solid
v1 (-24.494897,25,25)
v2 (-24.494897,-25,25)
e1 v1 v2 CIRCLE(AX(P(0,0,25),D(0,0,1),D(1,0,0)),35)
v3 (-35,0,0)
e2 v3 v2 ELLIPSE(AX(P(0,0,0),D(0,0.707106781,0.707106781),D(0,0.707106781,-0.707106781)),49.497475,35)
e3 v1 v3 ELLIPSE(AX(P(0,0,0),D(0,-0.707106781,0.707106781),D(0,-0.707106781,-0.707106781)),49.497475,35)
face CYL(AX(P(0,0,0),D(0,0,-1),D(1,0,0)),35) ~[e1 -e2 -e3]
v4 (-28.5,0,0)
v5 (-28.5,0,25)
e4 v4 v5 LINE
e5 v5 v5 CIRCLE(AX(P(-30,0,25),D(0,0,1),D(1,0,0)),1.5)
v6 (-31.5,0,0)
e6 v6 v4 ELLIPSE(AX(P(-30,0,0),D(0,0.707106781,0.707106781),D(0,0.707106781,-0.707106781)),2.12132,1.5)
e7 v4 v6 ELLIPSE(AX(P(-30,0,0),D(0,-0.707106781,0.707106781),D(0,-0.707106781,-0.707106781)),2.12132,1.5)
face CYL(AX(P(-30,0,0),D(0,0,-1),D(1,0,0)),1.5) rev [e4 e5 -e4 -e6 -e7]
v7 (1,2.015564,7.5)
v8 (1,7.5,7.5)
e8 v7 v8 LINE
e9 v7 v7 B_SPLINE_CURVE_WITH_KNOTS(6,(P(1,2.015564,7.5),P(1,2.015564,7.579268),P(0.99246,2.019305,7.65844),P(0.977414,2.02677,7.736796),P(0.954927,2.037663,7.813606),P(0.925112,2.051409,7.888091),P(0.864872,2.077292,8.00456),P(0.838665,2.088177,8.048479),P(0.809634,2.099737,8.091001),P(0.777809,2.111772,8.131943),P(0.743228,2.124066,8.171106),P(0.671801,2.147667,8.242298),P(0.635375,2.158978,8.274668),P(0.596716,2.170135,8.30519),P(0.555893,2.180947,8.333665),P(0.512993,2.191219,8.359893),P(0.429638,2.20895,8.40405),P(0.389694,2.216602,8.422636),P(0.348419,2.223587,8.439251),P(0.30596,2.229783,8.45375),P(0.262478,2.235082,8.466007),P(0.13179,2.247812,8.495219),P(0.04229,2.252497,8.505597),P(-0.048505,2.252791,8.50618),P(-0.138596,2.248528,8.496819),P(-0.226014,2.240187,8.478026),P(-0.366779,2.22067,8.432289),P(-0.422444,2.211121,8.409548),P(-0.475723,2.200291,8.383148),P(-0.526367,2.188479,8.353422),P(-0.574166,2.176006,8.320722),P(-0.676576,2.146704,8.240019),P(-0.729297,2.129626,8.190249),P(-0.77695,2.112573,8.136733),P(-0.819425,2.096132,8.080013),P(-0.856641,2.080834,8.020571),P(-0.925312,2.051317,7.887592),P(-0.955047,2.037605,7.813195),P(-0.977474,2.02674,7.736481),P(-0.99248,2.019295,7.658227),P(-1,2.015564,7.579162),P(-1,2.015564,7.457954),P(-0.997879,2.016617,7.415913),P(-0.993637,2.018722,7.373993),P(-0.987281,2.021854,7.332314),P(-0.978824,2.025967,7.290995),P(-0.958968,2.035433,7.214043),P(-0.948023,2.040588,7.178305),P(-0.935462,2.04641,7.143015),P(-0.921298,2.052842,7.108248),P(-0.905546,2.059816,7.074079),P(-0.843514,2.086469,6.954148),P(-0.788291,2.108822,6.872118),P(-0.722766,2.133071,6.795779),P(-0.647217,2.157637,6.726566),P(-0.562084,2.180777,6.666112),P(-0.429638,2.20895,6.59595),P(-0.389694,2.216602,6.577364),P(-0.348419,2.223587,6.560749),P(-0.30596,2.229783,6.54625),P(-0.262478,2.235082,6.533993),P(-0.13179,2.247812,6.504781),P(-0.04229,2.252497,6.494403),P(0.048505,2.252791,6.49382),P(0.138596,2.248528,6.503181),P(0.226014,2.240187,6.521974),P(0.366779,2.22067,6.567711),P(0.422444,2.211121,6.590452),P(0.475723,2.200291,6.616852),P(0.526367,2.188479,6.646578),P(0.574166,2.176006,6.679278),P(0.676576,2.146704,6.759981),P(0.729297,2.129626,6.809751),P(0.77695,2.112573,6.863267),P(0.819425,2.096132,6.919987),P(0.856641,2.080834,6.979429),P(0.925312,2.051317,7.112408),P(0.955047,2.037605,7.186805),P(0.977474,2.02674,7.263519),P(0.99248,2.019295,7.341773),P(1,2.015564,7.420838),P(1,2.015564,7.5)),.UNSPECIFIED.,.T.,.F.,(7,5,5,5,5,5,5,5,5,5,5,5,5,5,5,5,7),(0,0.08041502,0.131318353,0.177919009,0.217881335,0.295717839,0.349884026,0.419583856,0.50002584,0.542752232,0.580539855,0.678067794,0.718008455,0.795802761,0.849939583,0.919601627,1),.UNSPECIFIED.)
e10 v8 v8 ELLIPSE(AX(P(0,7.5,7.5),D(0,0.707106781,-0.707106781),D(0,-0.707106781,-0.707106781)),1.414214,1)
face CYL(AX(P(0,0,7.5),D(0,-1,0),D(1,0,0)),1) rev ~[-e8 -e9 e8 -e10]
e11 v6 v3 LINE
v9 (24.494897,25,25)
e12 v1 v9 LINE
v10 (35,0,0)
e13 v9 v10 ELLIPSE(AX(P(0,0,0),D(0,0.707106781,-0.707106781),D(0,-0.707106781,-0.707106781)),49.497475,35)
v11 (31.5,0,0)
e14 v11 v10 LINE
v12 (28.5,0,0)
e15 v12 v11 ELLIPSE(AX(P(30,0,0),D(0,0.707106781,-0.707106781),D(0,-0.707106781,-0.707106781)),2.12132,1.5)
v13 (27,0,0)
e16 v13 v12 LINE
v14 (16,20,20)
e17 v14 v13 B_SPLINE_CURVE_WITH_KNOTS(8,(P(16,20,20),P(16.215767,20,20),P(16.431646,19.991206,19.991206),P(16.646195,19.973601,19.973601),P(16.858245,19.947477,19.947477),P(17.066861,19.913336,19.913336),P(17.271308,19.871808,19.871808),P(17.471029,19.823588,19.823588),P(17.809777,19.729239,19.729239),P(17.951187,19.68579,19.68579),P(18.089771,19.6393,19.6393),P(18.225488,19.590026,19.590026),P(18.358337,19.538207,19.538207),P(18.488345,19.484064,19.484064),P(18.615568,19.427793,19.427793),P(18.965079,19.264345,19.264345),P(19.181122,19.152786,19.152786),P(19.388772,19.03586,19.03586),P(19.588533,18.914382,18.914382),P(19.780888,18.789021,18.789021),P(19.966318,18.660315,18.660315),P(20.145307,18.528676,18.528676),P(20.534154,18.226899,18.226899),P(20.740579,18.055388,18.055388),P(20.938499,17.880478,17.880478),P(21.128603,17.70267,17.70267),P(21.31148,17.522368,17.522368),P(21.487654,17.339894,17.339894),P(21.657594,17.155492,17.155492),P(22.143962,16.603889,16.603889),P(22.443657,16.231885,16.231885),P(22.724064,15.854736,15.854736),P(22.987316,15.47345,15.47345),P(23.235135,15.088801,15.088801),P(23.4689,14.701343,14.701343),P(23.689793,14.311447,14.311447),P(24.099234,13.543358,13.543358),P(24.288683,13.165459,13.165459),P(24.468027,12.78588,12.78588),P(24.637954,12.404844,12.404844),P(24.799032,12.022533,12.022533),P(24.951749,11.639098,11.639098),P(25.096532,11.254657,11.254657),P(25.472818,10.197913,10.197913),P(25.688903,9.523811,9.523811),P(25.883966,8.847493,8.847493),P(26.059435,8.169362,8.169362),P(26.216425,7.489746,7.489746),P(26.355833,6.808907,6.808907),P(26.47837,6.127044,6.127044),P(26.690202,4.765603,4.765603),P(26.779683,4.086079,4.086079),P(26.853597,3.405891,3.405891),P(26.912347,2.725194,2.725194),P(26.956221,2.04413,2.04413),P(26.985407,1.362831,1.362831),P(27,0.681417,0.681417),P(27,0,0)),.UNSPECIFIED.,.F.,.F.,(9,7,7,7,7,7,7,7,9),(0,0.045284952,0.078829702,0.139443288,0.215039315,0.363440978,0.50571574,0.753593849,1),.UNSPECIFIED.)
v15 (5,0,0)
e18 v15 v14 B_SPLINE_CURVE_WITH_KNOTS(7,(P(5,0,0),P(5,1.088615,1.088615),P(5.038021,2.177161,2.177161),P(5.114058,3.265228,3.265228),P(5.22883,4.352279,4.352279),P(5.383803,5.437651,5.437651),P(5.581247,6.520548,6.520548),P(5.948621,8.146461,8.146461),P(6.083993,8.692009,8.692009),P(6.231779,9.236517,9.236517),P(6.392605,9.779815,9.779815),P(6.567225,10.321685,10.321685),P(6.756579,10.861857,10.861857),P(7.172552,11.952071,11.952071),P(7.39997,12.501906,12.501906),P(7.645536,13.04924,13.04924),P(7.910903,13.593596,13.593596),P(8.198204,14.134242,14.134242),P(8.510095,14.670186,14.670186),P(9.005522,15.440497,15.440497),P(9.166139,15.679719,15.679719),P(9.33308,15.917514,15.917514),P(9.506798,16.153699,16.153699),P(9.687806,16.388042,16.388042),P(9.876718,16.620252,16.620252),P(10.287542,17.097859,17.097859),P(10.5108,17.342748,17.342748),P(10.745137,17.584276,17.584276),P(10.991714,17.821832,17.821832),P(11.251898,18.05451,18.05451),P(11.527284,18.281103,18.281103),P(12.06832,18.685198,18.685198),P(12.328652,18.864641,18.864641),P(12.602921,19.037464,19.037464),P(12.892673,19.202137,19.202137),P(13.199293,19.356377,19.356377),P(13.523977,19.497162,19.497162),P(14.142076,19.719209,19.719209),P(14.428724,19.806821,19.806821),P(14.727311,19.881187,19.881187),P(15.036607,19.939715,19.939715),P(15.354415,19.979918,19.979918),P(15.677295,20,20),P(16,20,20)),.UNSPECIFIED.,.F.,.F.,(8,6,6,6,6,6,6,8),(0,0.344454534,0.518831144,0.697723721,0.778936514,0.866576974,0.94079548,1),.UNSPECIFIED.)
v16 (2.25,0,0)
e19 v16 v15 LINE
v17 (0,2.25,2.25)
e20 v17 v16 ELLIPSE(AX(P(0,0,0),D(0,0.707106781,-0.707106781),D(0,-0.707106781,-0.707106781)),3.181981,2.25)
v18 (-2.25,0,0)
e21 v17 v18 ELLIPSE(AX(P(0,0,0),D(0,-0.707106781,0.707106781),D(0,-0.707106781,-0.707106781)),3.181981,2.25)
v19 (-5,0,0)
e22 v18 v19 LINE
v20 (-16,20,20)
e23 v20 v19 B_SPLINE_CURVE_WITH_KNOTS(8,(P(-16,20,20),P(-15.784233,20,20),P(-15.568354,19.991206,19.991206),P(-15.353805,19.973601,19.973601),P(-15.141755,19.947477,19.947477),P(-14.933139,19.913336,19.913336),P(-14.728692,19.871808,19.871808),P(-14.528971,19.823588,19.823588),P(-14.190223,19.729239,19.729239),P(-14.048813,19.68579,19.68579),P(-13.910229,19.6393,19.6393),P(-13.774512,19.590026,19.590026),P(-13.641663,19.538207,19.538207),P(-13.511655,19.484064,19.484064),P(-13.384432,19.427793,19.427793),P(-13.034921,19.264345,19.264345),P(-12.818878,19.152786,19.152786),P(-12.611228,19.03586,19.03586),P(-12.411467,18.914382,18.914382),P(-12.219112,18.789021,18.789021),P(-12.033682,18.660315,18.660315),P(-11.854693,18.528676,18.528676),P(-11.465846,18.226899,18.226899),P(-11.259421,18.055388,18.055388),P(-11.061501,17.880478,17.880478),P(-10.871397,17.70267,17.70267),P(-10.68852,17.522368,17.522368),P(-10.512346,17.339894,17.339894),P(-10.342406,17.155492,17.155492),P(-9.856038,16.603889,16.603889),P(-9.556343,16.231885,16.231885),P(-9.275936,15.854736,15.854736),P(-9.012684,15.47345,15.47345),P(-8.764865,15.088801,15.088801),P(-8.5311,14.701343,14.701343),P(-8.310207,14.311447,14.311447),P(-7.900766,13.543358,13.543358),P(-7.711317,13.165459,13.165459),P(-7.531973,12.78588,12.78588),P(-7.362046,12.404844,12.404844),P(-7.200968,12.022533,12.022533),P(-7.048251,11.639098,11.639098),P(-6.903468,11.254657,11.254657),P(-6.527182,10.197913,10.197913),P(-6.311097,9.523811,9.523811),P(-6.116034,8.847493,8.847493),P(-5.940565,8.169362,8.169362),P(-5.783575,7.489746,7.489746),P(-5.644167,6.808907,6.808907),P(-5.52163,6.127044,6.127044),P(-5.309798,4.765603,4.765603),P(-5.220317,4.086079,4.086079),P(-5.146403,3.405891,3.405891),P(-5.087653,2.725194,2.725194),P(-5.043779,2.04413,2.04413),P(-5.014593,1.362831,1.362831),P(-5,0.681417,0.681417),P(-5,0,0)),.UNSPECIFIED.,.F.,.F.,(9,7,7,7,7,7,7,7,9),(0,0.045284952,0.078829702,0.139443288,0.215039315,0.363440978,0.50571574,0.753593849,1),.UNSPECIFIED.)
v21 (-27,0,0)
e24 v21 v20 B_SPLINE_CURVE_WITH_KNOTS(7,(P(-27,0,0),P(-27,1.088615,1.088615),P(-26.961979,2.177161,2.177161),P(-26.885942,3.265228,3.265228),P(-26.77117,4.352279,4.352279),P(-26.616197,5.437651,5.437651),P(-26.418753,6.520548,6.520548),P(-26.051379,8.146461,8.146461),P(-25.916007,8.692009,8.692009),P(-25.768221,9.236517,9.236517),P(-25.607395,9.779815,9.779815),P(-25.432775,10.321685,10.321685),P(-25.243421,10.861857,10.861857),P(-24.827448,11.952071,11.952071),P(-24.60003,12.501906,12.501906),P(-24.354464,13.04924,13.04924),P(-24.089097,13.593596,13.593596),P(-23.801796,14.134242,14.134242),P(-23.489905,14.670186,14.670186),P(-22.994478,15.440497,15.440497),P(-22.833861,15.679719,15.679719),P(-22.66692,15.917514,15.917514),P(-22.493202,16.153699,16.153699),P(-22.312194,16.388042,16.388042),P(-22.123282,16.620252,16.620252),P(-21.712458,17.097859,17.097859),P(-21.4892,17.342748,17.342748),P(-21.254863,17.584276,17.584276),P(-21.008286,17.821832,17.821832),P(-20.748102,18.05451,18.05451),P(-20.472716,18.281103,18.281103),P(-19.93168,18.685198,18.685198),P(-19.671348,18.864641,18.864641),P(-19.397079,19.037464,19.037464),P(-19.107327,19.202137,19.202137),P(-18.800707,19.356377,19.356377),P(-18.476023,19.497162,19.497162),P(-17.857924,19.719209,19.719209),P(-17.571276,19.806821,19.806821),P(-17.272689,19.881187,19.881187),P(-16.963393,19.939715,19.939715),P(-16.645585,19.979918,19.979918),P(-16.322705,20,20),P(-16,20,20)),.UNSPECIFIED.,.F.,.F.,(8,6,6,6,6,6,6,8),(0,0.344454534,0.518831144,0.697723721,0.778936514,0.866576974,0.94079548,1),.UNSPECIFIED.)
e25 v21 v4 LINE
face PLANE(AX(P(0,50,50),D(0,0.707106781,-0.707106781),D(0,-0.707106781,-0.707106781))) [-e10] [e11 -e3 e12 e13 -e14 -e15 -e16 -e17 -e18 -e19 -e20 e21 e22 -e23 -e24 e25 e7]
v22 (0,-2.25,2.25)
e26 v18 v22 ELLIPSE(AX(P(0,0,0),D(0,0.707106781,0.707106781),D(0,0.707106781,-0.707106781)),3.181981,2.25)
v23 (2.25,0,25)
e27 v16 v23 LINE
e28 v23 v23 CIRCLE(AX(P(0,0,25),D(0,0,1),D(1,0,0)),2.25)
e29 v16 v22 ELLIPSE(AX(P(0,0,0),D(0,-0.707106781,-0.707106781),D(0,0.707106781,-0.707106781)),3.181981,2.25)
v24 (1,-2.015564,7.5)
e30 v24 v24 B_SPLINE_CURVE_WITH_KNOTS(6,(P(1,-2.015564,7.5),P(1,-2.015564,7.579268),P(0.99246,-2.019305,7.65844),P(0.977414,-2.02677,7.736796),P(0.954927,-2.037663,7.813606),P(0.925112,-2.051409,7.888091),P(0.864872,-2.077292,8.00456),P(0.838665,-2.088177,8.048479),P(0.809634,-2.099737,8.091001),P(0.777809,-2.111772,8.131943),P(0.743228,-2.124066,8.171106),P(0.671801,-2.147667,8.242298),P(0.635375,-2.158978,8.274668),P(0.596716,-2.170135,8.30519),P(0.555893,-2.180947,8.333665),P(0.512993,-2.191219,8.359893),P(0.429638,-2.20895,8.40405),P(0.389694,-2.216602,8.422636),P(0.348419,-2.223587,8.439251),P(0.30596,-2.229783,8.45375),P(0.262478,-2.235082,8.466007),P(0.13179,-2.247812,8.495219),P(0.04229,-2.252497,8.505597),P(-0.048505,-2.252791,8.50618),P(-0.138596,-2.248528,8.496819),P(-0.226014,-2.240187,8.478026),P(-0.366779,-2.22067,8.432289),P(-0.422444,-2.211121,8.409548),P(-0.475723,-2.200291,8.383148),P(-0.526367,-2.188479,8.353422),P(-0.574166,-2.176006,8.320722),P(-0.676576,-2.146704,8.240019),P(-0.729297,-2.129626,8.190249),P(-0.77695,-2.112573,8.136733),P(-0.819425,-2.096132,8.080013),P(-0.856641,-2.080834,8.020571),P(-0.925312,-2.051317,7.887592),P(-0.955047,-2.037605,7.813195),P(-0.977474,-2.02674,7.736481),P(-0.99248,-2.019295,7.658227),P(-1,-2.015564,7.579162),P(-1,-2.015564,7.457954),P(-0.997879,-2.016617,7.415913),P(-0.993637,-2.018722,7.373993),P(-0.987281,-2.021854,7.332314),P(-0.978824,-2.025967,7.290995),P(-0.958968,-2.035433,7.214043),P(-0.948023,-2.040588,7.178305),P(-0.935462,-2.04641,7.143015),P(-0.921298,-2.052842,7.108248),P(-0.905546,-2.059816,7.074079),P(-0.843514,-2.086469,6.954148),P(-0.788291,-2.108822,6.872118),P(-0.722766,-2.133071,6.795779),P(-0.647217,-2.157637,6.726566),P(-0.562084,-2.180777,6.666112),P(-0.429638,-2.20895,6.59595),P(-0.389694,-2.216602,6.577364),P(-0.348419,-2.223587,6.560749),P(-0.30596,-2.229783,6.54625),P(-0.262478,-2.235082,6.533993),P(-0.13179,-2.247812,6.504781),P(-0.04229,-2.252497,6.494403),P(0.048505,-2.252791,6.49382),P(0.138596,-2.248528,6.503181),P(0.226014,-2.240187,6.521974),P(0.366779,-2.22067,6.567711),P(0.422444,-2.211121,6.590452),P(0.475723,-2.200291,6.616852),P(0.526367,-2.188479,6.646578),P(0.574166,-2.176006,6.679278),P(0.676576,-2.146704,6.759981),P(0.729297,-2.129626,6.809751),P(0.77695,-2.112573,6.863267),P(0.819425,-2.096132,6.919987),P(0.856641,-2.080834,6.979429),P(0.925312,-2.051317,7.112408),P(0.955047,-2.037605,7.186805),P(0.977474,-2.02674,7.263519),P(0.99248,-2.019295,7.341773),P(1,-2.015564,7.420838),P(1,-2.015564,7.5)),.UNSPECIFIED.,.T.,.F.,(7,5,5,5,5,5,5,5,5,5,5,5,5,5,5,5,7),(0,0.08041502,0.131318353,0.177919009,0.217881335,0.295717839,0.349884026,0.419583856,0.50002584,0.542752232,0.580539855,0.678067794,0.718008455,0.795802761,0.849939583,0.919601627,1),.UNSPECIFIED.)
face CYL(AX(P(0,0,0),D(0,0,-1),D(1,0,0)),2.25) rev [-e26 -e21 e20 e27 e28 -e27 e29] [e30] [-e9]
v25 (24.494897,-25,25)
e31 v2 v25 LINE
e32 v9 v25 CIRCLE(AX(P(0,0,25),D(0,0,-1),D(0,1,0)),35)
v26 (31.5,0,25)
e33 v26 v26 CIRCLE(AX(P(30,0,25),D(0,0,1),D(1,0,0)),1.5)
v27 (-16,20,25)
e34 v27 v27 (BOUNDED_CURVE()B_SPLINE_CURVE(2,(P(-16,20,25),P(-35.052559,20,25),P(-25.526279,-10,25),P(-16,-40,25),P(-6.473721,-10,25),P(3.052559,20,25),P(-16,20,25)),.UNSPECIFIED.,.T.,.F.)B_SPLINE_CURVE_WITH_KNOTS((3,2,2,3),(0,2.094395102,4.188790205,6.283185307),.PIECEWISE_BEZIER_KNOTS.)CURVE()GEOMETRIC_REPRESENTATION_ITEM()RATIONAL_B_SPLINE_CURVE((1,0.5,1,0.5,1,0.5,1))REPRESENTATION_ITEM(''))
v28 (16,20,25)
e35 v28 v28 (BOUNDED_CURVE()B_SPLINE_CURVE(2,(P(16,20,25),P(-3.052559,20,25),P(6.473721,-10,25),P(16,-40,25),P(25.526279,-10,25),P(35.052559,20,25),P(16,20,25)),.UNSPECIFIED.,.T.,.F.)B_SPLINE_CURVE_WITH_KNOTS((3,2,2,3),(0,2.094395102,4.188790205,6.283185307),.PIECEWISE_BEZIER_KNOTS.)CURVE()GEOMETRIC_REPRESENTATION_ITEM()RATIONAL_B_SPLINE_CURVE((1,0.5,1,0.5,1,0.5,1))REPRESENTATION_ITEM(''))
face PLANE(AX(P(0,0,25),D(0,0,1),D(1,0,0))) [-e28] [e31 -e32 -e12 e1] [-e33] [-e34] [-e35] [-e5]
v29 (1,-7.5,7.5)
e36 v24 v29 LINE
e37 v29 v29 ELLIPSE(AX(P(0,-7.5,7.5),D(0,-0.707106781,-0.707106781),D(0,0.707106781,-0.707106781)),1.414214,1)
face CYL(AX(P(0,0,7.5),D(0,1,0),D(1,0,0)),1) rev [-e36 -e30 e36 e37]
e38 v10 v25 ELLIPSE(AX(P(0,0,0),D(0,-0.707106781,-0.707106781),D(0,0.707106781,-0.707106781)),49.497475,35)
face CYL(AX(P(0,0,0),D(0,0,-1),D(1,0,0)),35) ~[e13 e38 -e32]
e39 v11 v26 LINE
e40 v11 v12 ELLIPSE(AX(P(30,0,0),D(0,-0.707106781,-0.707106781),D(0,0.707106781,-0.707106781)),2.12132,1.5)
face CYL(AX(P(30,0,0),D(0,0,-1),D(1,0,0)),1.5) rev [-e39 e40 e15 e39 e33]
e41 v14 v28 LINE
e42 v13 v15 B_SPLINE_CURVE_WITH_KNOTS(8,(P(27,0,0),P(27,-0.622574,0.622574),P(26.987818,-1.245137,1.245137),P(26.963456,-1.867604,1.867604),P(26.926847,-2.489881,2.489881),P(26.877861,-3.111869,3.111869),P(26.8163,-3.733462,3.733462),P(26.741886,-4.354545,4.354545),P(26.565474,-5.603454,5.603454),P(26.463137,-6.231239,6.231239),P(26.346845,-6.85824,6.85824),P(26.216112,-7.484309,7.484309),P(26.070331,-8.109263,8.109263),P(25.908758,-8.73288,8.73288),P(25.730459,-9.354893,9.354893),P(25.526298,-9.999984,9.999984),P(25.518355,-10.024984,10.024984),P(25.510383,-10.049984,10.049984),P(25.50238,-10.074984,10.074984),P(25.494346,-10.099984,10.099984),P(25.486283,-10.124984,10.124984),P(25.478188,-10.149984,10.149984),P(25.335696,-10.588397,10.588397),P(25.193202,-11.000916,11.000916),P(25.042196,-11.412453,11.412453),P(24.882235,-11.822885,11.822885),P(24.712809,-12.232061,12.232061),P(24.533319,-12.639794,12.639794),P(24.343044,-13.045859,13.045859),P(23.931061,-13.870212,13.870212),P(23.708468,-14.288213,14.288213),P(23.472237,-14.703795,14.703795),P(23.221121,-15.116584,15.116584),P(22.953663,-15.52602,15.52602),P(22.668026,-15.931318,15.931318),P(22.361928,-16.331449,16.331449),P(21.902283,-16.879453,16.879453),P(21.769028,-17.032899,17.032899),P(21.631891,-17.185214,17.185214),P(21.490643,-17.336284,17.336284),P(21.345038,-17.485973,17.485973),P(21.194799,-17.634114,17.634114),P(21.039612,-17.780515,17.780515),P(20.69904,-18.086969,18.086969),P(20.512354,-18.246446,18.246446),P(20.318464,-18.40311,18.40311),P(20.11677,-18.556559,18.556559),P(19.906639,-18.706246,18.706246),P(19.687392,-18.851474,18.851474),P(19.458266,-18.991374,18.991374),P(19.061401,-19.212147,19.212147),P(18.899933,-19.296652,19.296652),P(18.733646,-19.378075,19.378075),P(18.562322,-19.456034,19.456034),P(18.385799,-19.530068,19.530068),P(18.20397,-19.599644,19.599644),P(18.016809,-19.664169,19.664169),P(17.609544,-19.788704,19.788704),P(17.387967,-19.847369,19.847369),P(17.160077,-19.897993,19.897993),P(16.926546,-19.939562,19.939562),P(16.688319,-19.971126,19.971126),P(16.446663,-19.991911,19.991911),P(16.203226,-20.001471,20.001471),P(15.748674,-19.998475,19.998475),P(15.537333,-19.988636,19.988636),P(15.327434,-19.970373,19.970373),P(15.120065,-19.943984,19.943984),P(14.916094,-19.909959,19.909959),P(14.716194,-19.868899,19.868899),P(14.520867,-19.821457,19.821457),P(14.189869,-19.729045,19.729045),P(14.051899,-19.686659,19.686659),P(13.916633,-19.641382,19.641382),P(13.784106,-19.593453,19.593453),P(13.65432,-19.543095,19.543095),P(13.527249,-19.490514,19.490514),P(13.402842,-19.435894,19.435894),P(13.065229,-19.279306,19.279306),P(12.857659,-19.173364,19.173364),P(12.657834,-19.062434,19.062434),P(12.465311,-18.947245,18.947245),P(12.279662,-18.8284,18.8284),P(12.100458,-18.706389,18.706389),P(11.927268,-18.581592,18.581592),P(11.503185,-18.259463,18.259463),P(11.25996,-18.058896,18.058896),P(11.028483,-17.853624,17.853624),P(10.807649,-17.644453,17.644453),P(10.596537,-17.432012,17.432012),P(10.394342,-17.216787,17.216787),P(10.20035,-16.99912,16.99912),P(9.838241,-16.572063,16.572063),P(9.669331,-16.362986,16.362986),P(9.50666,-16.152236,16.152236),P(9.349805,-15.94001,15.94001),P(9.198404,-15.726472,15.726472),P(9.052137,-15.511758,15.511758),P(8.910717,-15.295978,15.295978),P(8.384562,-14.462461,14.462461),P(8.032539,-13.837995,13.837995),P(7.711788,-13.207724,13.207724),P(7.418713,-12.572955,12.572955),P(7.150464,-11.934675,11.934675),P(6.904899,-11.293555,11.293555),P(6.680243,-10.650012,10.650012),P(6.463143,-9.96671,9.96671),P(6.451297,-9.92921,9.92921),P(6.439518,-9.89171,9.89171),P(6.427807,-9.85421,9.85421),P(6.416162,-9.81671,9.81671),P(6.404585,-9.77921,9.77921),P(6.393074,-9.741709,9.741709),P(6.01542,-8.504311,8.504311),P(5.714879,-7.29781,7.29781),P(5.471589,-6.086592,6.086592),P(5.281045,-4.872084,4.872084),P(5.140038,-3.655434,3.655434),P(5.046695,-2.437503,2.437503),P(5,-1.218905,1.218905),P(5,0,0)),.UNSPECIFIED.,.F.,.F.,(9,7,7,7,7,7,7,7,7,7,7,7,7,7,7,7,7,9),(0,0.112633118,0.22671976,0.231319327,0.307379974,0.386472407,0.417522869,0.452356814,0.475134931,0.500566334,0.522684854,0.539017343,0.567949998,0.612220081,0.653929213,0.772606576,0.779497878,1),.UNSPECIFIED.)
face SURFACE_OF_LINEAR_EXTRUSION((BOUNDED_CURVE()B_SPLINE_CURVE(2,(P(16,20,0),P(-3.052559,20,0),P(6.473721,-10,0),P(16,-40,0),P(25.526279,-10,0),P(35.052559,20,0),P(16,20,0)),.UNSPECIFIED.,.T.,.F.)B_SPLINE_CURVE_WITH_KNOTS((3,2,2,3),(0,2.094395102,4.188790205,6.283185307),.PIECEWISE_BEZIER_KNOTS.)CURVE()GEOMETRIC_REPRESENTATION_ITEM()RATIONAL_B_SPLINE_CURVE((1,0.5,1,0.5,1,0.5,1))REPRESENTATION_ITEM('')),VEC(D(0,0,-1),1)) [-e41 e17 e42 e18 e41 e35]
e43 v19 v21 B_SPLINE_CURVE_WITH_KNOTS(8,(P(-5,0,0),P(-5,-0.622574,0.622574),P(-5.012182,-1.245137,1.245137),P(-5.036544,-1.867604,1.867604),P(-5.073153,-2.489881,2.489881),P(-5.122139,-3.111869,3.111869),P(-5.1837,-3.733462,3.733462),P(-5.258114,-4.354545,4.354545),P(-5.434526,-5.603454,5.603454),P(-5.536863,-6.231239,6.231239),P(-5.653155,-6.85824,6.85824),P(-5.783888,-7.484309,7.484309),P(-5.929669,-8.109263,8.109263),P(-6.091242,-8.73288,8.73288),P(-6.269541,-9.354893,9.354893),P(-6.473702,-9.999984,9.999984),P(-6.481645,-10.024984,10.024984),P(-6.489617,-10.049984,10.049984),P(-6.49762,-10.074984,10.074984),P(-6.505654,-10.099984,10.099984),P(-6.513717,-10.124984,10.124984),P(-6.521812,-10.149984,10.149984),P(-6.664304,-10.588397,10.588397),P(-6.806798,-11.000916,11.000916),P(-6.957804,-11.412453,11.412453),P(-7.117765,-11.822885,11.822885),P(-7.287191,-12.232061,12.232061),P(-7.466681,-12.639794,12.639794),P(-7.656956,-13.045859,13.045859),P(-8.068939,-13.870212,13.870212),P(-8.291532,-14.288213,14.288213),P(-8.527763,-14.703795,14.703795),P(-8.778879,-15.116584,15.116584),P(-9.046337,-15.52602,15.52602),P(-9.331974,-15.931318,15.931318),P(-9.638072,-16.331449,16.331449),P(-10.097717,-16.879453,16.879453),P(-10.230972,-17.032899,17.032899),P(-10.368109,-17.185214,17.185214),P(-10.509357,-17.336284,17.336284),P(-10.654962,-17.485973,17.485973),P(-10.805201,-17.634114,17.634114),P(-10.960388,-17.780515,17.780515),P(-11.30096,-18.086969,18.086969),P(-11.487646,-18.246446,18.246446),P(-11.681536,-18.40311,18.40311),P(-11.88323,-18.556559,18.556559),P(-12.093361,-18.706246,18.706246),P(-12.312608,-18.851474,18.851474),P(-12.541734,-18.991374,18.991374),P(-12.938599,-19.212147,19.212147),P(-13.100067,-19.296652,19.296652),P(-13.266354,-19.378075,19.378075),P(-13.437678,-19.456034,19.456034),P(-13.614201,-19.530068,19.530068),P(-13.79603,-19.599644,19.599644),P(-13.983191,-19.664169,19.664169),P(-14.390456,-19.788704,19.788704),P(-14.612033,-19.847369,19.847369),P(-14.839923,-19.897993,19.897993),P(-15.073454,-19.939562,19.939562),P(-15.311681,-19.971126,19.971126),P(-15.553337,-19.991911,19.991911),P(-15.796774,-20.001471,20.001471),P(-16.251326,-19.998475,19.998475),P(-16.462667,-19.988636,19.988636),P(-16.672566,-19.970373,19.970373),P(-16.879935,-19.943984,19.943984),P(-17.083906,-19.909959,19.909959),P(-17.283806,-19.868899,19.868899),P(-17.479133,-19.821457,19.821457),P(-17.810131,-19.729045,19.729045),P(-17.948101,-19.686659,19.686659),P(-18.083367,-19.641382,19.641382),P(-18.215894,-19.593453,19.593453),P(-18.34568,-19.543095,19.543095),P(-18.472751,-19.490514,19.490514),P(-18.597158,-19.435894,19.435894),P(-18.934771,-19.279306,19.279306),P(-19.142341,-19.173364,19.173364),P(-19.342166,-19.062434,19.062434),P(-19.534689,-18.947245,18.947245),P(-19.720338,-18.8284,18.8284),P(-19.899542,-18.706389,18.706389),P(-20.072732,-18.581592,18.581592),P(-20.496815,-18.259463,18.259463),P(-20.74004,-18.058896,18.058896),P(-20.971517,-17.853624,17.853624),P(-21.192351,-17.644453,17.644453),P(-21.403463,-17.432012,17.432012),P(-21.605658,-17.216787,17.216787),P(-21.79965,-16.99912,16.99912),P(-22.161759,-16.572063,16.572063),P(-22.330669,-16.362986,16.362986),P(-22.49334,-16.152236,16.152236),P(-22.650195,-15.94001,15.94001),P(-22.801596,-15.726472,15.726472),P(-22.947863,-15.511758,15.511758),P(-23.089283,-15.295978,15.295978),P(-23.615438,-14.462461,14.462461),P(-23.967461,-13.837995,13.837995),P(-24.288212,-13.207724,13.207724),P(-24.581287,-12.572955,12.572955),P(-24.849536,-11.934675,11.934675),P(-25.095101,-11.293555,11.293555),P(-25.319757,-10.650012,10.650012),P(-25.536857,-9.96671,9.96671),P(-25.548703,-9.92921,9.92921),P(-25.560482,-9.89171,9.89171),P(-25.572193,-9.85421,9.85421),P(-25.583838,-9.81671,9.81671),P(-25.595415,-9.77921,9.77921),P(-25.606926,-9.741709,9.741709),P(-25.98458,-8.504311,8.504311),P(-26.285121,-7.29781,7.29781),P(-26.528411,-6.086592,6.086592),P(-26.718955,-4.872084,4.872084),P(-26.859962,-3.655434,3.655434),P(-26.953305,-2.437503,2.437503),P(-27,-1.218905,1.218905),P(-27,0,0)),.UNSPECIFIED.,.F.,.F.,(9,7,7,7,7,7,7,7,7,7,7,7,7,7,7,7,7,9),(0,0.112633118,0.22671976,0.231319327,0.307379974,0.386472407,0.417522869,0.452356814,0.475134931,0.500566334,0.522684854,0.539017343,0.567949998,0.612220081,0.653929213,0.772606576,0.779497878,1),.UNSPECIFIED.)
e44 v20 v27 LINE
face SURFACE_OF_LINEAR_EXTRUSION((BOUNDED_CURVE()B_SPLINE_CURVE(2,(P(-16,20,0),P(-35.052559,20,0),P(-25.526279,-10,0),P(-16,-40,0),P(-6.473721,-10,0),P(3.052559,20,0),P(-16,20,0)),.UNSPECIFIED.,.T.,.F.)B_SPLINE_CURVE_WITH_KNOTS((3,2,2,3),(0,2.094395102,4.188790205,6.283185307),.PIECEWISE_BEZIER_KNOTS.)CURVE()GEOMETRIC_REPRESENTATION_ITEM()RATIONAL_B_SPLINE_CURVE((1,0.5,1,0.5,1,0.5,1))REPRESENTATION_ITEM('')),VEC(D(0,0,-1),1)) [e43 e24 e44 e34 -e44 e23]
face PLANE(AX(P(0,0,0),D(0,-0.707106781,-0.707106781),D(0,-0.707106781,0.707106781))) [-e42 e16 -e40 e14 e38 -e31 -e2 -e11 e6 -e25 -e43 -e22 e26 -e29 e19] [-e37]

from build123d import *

# Parameters (mm, degrees)
F0_R          = 35
F0_R_2        = 1.5
F0_R_3        = 2.25
F1_DEPTH      = 25
F3_DEPTH      = 35.0010001
F3_DEPTH_BACK = 35.0010001
F4_R          = 1
F5_DEPTH      = 25.0010001
F5_DEPTH_BACK = 25.0010001


with BuildPart() as f1:
    # F0 (on Top) → F1 (new body)
    with BuildSketch(Plane.XY):
        Circle(F0_R)
        with Locations((-30, 0)):
            Circle(F0_R_2, mode=Mode.SUBTRACT)
        with BuildLine():
            add(Edge.make_bspline(
                [(-16, 20), (-35.0525588833, 20), (-25.5262794416, -10), (-16, -40), (-6.4737205584, -10), (3.0525588833, 20), (-16, 20)],
                knots=[0, 0, 0, 2.0943951024, 2.0943951024, 4.1887902048, 4.1887902048, 6.2831853072, 6.2831853072, 6.2831853072], degree=2, weights=[1, 0.5, 1, 0.5, 1, 0.5, 1]))
        make_face(mode=Mode.SUBTRACT)
        Circle(F0_R_3, mode=Mode.SUBTRACT)
        with BuildLine():
            add(Edge.make_bspline(
                [(16, 20), (-3.0525588833, 20), (6.4737205584, -10), (16, -40), (25.5262794416, -10), (35.0525588833, 20), (16, 20)],
                knots=[0, 0, 0, 2.0943951024, 2.0943951024, 4.1887902048, 4.1887902048, 6.2831853072, 6.2831853072, 6.2831853072], degree=2, weights=[1, 0.5, 1, 0.5, 1, 0.5, 1]))
        make_face(mode=Mode.SUBTRACT)
        with Locations((30, 0)):
            Circle(F0_R_2, mode=Mode.SUBTRACT)
    extrude(amount=F1_DEPTH)

    # F2 (on Right) → F3 (cut, two sides)
    with BuildSketch(Plane.YZ) as f3_sk:
        Polygon((50, 50), (0, 0), (50, 0), align=None)
        Polygon((-50, 0), (0, 0), (-50, 50), align=None)
    extrude(amount=-F3_DEPTH, mode=Mode.SUBTRACT)
    extrude(f3_sk.sketch, amount=F3_DEPTH_BACK, mode=Mode.SUBTRACT)

    # F4 (on Front) → F5 (cut, two sides)
    with BuildSketch(Plane.XZ) as f5_sk:
        with Locations((0, 7.5)):
            Circle(F4_R)
    extrude(amount=-F5_DEPTH, mode=Mode.SUBTRACT)
    extrude(f5_sk.sketch, amount=F5_DEPTH_BACK, mode=Mode.SUBTRACT)


solid = f1.part
